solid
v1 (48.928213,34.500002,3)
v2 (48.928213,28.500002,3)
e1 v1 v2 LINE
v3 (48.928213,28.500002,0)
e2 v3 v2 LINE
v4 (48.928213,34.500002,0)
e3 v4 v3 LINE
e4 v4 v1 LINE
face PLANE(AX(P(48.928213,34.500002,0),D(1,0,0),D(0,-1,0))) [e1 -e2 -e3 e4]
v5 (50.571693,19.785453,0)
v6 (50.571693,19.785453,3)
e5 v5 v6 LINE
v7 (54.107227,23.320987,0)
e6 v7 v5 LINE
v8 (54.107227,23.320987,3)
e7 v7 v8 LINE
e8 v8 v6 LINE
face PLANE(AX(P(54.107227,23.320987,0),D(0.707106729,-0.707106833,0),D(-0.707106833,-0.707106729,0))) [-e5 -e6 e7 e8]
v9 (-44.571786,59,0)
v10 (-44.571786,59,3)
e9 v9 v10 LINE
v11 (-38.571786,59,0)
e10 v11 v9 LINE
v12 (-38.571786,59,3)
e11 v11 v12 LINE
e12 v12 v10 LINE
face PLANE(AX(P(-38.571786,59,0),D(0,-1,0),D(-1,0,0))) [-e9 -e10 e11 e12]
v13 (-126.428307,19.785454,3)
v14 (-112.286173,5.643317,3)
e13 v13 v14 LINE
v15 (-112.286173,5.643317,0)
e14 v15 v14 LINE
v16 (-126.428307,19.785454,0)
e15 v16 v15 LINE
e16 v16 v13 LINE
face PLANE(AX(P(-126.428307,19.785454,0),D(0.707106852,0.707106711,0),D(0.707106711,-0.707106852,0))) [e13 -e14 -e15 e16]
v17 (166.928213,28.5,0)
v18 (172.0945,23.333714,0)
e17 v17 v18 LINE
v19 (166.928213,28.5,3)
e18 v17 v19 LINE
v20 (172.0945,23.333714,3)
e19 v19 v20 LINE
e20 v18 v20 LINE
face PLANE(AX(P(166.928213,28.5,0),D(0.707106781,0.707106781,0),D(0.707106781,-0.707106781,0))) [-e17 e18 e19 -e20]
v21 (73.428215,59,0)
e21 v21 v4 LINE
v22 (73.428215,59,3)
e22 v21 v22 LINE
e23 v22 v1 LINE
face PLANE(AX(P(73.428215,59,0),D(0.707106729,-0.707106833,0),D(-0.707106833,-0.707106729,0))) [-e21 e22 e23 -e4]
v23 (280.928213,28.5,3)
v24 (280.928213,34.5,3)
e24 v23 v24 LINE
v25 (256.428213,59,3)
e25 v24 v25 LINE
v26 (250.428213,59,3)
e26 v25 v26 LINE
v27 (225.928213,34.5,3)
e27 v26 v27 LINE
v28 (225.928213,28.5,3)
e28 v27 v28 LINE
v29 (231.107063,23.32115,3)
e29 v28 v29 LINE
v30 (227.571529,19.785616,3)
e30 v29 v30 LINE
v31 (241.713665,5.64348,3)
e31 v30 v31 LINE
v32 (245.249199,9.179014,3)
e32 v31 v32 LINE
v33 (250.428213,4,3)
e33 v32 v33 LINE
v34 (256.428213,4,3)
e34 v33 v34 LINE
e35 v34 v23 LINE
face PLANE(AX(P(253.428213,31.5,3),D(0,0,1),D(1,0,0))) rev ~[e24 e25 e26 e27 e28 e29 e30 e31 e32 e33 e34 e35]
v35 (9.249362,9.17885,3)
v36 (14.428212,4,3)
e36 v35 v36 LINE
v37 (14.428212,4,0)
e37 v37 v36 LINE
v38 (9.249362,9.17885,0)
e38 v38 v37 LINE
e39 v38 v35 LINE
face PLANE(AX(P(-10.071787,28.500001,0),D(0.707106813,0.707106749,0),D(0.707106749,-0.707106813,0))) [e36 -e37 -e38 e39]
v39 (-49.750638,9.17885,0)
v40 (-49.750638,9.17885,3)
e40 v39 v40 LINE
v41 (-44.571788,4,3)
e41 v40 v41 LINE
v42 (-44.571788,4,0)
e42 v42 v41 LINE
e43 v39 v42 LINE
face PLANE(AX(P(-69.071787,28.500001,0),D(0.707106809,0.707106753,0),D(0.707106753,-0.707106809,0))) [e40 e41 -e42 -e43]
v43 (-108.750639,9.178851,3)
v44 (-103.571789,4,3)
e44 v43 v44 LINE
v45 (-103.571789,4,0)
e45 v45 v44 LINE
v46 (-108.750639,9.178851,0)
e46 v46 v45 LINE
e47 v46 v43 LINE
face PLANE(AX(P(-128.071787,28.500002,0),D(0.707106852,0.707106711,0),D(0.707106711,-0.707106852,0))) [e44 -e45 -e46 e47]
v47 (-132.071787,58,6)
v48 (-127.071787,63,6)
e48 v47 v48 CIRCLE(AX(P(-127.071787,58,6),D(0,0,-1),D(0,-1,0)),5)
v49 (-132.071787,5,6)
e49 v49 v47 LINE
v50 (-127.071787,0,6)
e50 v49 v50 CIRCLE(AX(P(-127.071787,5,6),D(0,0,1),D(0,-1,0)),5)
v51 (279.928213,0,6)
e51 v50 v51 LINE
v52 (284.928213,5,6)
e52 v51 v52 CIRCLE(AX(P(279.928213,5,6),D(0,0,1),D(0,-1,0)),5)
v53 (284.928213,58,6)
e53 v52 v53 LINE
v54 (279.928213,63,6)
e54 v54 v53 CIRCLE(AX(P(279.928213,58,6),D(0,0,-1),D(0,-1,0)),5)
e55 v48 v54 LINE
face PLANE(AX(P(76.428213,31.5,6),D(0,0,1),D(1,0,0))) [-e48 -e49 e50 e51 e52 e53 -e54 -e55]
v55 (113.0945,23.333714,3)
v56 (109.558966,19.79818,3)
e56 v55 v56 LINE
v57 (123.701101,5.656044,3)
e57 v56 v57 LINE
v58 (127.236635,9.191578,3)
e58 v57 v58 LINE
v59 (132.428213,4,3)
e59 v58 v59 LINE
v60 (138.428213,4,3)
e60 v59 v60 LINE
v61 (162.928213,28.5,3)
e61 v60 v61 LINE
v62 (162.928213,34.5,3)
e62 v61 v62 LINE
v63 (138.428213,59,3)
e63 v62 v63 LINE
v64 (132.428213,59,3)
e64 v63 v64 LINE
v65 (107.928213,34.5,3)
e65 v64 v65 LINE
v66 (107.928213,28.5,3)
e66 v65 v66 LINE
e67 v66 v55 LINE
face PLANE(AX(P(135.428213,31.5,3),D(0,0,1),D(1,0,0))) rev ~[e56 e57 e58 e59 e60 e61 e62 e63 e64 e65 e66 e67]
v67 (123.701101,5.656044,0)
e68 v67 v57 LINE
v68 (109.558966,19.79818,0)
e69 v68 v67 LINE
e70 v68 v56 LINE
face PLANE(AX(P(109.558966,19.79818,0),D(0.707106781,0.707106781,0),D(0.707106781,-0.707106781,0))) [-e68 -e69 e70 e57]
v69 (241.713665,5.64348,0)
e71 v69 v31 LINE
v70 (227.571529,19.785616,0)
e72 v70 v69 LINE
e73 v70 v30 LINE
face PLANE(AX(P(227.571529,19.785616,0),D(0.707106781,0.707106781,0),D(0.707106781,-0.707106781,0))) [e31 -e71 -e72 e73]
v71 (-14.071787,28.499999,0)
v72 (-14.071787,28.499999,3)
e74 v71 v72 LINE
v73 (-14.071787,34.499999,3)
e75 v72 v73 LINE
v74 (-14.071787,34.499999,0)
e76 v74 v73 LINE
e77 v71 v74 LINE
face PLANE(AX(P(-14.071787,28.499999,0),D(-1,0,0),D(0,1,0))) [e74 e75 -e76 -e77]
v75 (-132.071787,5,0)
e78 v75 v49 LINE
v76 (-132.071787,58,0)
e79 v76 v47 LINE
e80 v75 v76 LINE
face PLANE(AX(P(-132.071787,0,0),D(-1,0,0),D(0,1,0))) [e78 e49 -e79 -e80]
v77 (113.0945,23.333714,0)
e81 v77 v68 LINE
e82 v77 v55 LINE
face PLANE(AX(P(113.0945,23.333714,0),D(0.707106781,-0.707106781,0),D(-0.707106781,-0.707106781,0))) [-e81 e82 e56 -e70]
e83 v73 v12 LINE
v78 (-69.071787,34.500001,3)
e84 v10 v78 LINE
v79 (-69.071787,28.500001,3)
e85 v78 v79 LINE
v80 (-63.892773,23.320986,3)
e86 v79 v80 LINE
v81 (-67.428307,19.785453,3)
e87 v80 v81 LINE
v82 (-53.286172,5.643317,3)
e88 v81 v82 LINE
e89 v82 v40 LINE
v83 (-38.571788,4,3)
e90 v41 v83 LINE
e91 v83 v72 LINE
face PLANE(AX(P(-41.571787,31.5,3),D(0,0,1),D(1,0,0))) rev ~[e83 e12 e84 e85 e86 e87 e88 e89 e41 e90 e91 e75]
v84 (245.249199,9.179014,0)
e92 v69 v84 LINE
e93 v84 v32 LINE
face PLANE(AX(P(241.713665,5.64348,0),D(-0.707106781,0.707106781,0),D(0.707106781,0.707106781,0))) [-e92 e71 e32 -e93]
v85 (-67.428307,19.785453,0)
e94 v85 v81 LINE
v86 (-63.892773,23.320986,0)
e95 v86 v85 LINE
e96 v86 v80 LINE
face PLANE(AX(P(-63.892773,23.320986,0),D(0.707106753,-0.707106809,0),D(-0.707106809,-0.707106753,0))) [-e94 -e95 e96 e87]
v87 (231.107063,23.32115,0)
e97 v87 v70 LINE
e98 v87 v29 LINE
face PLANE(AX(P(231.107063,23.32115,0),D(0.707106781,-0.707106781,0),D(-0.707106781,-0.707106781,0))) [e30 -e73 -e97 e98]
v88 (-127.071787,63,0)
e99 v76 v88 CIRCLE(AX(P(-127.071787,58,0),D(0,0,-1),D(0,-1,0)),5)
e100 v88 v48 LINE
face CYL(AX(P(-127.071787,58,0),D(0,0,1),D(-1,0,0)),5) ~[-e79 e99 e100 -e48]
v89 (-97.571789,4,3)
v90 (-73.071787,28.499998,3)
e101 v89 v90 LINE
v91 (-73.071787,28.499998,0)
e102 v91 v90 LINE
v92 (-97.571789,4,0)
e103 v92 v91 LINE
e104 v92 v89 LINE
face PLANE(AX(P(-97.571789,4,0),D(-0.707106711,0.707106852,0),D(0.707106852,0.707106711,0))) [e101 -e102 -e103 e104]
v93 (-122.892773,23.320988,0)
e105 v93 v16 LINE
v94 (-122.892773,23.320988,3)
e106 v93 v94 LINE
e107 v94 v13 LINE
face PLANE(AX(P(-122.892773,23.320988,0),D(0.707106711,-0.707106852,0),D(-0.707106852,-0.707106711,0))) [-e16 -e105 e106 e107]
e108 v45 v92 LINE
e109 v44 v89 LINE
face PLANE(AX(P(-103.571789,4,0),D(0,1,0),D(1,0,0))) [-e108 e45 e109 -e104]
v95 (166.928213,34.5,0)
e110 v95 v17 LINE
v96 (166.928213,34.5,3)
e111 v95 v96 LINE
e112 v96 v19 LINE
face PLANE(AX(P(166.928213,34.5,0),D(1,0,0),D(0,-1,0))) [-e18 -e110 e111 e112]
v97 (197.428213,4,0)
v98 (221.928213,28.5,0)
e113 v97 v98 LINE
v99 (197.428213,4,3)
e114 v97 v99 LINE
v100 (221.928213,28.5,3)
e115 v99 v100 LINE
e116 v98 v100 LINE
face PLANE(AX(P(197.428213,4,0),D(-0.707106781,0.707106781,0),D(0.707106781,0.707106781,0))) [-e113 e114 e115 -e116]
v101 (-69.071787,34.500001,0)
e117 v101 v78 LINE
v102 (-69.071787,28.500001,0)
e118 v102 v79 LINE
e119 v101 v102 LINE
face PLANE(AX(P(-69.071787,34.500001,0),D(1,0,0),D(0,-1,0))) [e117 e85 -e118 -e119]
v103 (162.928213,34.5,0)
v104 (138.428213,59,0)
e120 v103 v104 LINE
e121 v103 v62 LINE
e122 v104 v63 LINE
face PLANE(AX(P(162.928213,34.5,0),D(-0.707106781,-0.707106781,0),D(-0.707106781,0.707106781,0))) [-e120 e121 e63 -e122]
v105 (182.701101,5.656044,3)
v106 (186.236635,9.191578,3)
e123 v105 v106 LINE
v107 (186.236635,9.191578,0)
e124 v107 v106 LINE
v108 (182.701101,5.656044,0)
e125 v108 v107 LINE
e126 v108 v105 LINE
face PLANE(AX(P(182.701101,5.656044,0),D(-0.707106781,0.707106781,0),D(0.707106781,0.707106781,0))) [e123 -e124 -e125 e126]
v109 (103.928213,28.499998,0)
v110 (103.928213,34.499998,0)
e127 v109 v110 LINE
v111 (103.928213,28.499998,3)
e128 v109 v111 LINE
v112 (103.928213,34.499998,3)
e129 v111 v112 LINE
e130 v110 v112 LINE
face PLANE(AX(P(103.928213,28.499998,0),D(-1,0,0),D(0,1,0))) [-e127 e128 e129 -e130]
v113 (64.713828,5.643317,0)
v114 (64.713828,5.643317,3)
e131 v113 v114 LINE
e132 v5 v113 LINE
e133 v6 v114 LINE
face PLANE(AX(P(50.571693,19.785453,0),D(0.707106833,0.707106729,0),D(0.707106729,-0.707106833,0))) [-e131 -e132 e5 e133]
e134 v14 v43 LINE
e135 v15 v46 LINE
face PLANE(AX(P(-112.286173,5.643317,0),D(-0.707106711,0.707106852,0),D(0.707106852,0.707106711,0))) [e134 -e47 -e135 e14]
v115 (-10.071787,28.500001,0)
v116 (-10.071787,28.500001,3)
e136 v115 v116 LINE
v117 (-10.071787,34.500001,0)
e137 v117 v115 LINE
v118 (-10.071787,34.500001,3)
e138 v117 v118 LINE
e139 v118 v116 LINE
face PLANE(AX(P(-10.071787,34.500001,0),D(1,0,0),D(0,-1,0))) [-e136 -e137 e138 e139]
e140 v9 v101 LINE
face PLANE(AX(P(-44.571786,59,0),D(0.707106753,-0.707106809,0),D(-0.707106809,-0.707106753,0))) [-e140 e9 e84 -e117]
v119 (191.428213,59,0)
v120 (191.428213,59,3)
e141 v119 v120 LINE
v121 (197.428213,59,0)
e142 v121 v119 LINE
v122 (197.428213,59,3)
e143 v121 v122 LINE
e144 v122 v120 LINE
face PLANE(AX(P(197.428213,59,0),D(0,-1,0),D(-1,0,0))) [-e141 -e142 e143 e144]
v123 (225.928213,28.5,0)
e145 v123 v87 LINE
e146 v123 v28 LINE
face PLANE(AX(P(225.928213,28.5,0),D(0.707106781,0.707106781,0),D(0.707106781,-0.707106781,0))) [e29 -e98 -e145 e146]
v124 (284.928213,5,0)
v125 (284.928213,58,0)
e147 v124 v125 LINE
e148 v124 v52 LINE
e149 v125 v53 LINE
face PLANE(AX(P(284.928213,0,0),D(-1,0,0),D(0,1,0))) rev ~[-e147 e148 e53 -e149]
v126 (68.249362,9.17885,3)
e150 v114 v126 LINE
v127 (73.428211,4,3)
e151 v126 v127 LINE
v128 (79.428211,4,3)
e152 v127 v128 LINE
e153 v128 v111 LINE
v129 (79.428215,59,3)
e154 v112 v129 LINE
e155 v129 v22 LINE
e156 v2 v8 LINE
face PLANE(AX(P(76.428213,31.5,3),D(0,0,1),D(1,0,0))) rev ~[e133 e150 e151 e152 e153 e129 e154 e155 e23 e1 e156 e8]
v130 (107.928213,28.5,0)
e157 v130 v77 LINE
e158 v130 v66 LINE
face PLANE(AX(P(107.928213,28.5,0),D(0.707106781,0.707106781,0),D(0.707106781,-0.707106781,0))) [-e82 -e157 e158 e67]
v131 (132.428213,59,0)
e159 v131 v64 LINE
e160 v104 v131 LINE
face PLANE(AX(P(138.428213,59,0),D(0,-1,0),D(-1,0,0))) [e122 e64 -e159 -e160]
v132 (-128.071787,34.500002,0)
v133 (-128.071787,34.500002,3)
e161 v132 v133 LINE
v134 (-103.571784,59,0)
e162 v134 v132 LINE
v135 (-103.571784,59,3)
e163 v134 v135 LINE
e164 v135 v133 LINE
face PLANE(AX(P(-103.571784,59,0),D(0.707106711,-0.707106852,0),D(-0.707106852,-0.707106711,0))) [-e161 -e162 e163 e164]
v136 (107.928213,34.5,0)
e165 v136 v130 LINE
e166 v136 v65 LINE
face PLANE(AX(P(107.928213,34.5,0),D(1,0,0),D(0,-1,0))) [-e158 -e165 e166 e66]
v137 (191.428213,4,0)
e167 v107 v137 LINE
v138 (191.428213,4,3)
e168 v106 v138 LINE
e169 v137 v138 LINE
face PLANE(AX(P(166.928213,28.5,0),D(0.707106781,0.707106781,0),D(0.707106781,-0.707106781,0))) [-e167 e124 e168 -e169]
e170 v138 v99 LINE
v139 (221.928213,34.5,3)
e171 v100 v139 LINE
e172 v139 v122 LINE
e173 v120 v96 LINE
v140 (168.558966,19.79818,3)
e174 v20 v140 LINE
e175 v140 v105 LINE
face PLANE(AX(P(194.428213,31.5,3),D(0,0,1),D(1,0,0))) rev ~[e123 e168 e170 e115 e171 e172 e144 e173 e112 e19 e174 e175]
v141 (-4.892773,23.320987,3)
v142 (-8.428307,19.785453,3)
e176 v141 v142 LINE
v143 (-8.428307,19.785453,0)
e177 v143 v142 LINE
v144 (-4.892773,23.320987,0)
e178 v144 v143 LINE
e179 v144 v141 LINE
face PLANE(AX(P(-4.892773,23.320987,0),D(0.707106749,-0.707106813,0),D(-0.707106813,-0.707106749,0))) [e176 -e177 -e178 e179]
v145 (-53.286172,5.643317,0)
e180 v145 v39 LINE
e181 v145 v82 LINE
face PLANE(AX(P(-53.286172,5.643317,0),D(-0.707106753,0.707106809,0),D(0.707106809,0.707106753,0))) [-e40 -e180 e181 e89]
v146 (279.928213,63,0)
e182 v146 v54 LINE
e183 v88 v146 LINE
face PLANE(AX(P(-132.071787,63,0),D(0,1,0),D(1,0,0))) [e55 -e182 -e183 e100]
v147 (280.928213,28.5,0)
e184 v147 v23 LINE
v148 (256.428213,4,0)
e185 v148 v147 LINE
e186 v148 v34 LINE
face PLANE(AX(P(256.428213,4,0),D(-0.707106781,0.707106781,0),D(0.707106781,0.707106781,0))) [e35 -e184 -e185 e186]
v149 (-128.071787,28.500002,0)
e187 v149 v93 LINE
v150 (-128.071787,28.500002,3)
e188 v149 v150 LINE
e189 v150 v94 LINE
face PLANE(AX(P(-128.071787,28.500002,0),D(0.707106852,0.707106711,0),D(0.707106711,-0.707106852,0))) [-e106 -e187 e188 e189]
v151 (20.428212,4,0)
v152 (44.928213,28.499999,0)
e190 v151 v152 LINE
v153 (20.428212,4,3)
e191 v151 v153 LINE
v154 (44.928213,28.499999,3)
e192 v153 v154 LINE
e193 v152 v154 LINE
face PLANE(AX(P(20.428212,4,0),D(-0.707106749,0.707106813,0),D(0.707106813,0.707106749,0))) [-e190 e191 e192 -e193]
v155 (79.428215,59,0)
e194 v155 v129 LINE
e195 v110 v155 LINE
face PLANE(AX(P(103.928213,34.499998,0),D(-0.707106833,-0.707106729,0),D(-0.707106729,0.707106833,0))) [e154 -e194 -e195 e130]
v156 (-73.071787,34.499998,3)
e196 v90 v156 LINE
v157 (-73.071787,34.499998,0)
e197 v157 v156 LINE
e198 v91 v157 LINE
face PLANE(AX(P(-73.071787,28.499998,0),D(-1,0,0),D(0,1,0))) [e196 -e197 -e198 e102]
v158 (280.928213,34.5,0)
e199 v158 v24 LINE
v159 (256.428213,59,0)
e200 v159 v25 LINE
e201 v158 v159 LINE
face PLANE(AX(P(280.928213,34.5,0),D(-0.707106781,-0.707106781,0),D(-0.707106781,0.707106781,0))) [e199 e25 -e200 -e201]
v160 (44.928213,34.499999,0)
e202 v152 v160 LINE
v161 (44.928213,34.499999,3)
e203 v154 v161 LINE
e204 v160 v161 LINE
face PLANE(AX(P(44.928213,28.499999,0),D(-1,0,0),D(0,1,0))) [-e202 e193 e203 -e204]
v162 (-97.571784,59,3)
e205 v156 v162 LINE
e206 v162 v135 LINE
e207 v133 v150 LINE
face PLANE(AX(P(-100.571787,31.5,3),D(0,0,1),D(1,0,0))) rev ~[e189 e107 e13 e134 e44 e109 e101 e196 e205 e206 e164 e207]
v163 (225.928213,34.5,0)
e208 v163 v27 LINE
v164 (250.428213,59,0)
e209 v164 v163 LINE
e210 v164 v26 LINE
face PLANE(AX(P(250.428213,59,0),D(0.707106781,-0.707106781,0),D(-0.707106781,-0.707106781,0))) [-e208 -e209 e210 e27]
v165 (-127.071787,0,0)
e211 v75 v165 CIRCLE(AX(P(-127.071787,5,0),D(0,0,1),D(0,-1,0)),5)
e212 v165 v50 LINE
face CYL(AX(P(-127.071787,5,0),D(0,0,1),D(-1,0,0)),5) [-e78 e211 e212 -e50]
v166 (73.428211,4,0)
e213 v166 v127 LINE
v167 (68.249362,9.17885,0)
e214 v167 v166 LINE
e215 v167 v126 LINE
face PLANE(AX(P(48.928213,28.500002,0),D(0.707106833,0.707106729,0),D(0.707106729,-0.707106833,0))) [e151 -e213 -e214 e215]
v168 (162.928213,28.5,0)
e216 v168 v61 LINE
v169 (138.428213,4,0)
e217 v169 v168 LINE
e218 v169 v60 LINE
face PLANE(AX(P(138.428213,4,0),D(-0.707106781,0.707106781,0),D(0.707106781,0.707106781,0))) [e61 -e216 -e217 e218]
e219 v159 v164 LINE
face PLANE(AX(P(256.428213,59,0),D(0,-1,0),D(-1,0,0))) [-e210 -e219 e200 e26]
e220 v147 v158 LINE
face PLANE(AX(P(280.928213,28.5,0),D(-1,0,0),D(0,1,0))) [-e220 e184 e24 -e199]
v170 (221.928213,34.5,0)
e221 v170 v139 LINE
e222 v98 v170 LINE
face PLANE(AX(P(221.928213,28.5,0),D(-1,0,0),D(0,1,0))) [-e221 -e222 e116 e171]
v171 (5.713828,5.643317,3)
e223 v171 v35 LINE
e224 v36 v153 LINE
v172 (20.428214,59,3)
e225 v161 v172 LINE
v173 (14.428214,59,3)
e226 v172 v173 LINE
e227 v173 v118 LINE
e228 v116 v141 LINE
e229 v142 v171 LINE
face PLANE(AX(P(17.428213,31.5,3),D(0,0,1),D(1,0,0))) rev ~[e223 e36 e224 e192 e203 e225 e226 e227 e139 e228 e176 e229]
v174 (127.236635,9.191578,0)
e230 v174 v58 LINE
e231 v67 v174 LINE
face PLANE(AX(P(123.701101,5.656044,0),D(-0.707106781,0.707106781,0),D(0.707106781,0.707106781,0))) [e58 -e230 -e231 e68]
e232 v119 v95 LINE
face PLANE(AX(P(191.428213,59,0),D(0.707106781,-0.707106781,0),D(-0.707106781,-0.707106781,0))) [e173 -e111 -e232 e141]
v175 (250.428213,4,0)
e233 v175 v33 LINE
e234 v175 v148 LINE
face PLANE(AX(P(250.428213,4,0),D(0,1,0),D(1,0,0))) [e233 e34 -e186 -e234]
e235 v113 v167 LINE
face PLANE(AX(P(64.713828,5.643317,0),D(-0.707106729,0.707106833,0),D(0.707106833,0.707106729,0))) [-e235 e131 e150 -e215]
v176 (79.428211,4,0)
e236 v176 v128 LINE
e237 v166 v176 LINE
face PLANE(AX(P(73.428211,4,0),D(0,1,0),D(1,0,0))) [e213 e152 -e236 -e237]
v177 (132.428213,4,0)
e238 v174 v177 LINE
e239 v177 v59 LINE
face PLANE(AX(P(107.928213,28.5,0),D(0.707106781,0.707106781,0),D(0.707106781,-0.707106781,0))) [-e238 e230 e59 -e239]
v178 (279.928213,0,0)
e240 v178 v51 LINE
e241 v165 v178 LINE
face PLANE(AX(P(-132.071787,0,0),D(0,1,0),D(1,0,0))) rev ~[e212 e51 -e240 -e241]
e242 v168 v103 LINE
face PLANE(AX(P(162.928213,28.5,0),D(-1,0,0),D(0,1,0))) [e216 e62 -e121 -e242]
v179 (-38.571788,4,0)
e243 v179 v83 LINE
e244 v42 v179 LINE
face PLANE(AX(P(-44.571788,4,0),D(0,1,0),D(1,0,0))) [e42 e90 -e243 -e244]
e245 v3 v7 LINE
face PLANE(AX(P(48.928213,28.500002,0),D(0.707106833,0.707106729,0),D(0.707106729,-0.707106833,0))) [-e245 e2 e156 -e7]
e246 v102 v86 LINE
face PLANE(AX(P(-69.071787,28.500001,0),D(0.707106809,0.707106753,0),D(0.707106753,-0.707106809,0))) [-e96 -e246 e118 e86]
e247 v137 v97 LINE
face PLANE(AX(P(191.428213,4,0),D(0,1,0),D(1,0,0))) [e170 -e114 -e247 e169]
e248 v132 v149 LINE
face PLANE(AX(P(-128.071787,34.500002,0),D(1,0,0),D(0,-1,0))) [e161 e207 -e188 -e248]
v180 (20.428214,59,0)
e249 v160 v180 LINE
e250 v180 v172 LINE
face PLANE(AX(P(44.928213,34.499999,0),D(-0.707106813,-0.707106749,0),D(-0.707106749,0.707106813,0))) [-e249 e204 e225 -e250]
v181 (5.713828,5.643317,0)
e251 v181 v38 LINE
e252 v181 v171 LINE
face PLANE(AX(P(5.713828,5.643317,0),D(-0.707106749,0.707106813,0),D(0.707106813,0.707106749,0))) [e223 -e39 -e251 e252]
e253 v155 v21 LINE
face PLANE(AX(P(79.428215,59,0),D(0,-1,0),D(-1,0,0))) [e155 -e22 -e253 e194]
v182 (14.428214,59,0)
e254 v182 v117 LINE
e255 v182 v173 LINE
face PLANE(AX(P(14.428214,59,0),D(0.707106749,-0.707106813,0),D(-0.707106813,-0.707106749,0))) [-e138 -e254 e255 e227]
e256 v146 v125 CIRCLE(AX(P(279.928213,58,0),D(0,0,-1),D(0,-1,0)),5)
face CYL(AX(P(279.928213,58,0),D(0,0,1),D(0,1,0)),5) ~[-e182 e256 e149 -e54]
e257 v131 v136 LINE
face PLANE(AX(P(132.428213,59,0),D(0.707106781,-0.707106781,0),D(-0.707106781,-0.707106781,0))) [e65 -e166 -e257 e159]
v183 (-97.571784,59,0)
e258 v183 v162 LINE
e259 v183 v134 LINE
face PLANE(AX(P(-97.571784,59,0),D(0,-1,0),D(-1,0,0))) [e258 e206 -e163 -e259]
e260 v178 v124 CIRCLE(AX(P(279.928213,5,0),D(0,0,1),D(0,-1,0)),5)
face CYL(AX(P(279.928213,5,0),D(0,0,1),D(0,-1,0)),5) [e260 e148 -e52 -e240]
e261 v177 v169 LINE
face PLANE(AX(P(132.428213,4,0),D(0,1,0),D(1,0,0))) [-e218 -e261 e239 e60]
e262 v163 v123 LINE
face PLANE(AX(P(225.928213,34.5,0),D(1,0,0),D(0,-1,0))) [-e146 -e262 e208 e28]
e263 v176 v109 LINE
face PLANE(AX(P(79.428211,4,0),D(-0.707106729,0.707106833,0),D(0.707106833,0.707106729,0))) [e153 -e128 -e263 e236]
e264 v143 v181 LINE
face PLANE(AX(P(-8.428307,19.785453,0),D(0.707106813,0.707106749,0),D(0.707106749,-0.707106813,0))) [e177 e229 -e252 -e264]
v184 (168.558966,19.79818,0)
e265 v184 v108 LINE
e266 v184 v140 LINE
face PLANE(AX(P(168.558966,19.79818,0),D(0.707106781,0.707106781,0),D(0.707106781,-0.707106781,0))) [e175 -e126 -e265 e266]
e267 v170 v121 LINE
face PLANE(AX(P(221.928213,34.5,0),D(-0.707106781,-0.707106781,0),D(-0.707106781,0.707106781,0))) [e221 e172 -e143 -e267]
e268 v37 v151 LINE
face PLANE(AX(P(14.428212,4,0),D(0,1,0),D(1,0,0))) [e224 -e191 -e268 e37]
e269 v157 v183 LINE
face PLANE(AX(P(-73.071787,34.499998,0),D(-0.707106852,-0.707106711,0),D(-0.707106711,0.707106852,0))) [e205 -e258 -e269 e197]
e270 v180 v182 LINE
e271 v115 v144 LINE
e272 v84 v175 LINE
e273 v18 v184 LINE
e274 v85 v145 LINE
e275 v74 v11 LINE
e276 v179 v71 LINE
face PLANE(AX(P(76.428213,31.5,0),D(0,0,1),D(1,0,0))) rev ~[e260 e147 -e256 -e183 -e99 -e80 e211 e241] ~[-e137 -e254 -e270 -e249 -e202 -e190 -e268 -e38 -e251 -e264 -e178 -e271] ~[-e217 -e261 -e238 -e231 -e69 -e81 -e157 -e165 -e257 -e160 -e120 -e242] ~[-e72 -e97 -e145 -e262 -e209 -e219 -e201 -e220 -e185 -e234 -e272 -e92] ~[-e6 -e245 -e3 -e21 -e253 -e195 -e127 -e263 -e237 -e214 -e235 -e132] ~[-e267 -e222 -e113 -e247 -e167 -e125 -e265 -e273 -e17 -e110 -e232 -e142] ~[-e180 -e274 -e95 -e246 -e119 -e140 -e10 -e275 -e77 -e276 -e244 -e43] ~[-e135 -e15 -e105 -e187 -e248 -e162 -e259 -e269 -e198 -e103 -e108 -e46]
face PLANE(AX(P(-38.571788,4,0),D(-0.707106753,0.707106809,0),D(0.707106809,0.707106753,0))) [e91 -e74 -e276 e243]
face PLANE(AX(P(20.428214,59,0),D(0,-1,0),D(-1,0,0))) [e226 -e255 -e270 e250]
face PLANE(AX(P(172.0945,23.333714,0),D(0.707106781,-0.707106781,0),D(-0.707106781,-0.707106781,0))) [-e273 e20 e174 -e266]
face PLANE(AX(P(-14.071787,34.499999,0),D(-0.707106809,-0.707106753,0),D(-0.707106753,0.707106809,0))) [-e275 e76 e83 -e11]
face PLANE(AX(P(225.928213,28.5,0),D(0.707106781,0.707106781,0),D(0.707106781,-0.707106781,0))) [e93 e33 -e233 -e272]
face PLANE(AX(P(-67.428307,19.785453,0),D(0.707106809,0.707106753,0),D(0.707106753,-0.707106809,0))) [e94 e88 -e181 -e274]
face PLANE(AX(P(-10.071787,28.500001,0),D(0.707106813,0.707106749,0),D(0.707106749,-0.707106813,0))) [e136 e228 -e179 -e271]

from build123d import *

# Parameters (mm, degrees)
F0_W      = 417
F0_H      = 63
F15_DEPTH = 6
F16_DEPTH = 3
F17_R     = 5


with BuildPart() as f15:
    # F0 (on Top) → F15 (new body)
    with BuildSketch(Plane.XY):
        with Locations((76.4282132271, 31.5)):
            Rectangle(F0_W, F0_H)
    extrude(amount=F15_DEPTH)

    # F1 (on Top) + F2 (on Top) + F3 (on Top) + F4 (on Top) + F5 (on Top) + F6 (on Top) + F7 (on Top) + F8 (on face) + F9 (on face) + F10 (on face) + F11 (on face) + F12 (on face) + F13 (on face) + F14 (on face) → F16 (cut)
    with BuildSketch(Plane.XY):
        Polygon((250.4282132271, 59), (225.9282132271, 34.5), (225.9282132271, 28.5), (250.4282132271, 4), (256.4282132271, 4), (280.9282132271, 28.5), (280.9282132271, 34.5), (256.4282132271, 59), align=None)
    with BuildSketch(Plane.XY):
        Polygon((191.4282132271, 59), (166.9282132271, 34.5), (166.9282132271, 28.5), (191.4282132271, 4), (197.4282132271, 4), (221.9282132271, 28.5), (221.9282132271, 34.5), (197.4282132271, 59), align=None)
    with BuildSketch(Plane.XY):
        Polygon((132.4282132271, 59), (107.9282132271, 34.5), (107.9282132271, 28.5), (132.4282132271, 4), (138.4282132271, 4), (162.9282132271, 28.5), (162.9282132271, 34.5), (138.4282132271, 59), align=None)
    with BuildSketch(Plane.XY):
        Polygon((73.4282150233, 59), (48.9282132271, 34.5000017962), (48.9282132271, 28.5000017962), (73.4282114309, 4), (79.4282114309, 4), (103.9282132271, 28.4999982038), (103.9282132271, 34.4999982038), (79.4282150233, 59), align=None)
    with BuildSketch(Plane.XY):
        Polygon((14.4282143313, 59), (-10.0717867729, 34.5000011042), (-10.0717867729, 28.5000011042), (14.4282121229, 4), (20.4282121229, 4), (44.9282132271, 28.4999988958), (44.9282132271, 34.4999988958), (20.4282143313, 59), align=None)
    with BuildSketch(Plane.XY):
        Polygon((-44.5717858043, 59), (-69.0717867729, 34.5000009686), (-69.0717867729, 28.5000009686), (-44.5717877415, 4), (-38.5717877415, 4), (-14.0717867729, 28.4999990314), (-14.0717867729, 34.4999990314), (-38.5717858043, 59), align=None)
    with BuildSketch(Plane.XY):
        Polygon((-103.5717843258, 59), (-128.0717867729, 34.5000024471), (-128.0717867729, 28.5000024471), (-103.57178922, 4), (-97.57178922, 4), (-73.0717867729, 28.4999975529), (-73.0717867729, 34.4999975529), (-97.5717843258, 59), align=None)
    with BuildSketch(Plane.XY):
        Polygon((245.2491989162, 9.1790143109), (231.1070632925, 23.3211499346), (227.5715293866, 19.7856160287), (241.7136650103, 5.6434804049), align=None)
    with BuildSketch(Plane.XY):
        Polygon((186.2366352396, 9.1915779875), (172.0944996159, 23.3337136112), (168.55896571, 19.7981797053), (182.7011013337, 5.6560440815), align=None)
    with BuildSketch(Plane.XY):
        Polygon((127.2366352396, 9.1915779875), (113.0944996159, 23.3337136112), (109.55896571, 19.7981797053), (123.7011013337, 5.6560440815), align=None)
    with BuildSketch(Plane.XY):
        Polygon((68.2493617452, 9.1788504451), (54.1072271583, 23.3209871057), (50.5716929931, 19.7854534589), (64.71382758, 5.6433167984), align=None)
    with BuildSketch(Plane.XY):
        Polygon((9.2493622909, 9.1788502988), (-4.8927726955, 23.3209865599), (-8.4283067607, 19.7854528133), (5.7138282256, 5.6433165522), align=None)
    with BuildSketch(Plane.XY):
        Polygon((-49.7506376022, 9.1788502702), (-63.8927726668, 23.320986453), (-67.4283067125, 19.7854526868), (-53.2861716479, 5.643316504), align=None)
    with BuildSketch(Plane.XY):
        Polygon((-108.7506387682, 9.1788505827), (-122.8927729793, 23.320987619), (-126.4283072384, 19.7854540662), (-112.2861730272, 5.6433170299), align=None)
    extrude(amount=F16_DEPTH, mode=Mode.SUBTRACT)

    # F17
    f17_edges = [f15.edges().sort_by_distance(p)[0] for p in [
        (284.928213, 0, 3),
        (284.928213, 63, 3),
        (-132.071787, 63, 3),
        (-132.071787, 0, 3),
    ]]
    fillet(f17_edges, radius=F17_R)


solid = f15.part
